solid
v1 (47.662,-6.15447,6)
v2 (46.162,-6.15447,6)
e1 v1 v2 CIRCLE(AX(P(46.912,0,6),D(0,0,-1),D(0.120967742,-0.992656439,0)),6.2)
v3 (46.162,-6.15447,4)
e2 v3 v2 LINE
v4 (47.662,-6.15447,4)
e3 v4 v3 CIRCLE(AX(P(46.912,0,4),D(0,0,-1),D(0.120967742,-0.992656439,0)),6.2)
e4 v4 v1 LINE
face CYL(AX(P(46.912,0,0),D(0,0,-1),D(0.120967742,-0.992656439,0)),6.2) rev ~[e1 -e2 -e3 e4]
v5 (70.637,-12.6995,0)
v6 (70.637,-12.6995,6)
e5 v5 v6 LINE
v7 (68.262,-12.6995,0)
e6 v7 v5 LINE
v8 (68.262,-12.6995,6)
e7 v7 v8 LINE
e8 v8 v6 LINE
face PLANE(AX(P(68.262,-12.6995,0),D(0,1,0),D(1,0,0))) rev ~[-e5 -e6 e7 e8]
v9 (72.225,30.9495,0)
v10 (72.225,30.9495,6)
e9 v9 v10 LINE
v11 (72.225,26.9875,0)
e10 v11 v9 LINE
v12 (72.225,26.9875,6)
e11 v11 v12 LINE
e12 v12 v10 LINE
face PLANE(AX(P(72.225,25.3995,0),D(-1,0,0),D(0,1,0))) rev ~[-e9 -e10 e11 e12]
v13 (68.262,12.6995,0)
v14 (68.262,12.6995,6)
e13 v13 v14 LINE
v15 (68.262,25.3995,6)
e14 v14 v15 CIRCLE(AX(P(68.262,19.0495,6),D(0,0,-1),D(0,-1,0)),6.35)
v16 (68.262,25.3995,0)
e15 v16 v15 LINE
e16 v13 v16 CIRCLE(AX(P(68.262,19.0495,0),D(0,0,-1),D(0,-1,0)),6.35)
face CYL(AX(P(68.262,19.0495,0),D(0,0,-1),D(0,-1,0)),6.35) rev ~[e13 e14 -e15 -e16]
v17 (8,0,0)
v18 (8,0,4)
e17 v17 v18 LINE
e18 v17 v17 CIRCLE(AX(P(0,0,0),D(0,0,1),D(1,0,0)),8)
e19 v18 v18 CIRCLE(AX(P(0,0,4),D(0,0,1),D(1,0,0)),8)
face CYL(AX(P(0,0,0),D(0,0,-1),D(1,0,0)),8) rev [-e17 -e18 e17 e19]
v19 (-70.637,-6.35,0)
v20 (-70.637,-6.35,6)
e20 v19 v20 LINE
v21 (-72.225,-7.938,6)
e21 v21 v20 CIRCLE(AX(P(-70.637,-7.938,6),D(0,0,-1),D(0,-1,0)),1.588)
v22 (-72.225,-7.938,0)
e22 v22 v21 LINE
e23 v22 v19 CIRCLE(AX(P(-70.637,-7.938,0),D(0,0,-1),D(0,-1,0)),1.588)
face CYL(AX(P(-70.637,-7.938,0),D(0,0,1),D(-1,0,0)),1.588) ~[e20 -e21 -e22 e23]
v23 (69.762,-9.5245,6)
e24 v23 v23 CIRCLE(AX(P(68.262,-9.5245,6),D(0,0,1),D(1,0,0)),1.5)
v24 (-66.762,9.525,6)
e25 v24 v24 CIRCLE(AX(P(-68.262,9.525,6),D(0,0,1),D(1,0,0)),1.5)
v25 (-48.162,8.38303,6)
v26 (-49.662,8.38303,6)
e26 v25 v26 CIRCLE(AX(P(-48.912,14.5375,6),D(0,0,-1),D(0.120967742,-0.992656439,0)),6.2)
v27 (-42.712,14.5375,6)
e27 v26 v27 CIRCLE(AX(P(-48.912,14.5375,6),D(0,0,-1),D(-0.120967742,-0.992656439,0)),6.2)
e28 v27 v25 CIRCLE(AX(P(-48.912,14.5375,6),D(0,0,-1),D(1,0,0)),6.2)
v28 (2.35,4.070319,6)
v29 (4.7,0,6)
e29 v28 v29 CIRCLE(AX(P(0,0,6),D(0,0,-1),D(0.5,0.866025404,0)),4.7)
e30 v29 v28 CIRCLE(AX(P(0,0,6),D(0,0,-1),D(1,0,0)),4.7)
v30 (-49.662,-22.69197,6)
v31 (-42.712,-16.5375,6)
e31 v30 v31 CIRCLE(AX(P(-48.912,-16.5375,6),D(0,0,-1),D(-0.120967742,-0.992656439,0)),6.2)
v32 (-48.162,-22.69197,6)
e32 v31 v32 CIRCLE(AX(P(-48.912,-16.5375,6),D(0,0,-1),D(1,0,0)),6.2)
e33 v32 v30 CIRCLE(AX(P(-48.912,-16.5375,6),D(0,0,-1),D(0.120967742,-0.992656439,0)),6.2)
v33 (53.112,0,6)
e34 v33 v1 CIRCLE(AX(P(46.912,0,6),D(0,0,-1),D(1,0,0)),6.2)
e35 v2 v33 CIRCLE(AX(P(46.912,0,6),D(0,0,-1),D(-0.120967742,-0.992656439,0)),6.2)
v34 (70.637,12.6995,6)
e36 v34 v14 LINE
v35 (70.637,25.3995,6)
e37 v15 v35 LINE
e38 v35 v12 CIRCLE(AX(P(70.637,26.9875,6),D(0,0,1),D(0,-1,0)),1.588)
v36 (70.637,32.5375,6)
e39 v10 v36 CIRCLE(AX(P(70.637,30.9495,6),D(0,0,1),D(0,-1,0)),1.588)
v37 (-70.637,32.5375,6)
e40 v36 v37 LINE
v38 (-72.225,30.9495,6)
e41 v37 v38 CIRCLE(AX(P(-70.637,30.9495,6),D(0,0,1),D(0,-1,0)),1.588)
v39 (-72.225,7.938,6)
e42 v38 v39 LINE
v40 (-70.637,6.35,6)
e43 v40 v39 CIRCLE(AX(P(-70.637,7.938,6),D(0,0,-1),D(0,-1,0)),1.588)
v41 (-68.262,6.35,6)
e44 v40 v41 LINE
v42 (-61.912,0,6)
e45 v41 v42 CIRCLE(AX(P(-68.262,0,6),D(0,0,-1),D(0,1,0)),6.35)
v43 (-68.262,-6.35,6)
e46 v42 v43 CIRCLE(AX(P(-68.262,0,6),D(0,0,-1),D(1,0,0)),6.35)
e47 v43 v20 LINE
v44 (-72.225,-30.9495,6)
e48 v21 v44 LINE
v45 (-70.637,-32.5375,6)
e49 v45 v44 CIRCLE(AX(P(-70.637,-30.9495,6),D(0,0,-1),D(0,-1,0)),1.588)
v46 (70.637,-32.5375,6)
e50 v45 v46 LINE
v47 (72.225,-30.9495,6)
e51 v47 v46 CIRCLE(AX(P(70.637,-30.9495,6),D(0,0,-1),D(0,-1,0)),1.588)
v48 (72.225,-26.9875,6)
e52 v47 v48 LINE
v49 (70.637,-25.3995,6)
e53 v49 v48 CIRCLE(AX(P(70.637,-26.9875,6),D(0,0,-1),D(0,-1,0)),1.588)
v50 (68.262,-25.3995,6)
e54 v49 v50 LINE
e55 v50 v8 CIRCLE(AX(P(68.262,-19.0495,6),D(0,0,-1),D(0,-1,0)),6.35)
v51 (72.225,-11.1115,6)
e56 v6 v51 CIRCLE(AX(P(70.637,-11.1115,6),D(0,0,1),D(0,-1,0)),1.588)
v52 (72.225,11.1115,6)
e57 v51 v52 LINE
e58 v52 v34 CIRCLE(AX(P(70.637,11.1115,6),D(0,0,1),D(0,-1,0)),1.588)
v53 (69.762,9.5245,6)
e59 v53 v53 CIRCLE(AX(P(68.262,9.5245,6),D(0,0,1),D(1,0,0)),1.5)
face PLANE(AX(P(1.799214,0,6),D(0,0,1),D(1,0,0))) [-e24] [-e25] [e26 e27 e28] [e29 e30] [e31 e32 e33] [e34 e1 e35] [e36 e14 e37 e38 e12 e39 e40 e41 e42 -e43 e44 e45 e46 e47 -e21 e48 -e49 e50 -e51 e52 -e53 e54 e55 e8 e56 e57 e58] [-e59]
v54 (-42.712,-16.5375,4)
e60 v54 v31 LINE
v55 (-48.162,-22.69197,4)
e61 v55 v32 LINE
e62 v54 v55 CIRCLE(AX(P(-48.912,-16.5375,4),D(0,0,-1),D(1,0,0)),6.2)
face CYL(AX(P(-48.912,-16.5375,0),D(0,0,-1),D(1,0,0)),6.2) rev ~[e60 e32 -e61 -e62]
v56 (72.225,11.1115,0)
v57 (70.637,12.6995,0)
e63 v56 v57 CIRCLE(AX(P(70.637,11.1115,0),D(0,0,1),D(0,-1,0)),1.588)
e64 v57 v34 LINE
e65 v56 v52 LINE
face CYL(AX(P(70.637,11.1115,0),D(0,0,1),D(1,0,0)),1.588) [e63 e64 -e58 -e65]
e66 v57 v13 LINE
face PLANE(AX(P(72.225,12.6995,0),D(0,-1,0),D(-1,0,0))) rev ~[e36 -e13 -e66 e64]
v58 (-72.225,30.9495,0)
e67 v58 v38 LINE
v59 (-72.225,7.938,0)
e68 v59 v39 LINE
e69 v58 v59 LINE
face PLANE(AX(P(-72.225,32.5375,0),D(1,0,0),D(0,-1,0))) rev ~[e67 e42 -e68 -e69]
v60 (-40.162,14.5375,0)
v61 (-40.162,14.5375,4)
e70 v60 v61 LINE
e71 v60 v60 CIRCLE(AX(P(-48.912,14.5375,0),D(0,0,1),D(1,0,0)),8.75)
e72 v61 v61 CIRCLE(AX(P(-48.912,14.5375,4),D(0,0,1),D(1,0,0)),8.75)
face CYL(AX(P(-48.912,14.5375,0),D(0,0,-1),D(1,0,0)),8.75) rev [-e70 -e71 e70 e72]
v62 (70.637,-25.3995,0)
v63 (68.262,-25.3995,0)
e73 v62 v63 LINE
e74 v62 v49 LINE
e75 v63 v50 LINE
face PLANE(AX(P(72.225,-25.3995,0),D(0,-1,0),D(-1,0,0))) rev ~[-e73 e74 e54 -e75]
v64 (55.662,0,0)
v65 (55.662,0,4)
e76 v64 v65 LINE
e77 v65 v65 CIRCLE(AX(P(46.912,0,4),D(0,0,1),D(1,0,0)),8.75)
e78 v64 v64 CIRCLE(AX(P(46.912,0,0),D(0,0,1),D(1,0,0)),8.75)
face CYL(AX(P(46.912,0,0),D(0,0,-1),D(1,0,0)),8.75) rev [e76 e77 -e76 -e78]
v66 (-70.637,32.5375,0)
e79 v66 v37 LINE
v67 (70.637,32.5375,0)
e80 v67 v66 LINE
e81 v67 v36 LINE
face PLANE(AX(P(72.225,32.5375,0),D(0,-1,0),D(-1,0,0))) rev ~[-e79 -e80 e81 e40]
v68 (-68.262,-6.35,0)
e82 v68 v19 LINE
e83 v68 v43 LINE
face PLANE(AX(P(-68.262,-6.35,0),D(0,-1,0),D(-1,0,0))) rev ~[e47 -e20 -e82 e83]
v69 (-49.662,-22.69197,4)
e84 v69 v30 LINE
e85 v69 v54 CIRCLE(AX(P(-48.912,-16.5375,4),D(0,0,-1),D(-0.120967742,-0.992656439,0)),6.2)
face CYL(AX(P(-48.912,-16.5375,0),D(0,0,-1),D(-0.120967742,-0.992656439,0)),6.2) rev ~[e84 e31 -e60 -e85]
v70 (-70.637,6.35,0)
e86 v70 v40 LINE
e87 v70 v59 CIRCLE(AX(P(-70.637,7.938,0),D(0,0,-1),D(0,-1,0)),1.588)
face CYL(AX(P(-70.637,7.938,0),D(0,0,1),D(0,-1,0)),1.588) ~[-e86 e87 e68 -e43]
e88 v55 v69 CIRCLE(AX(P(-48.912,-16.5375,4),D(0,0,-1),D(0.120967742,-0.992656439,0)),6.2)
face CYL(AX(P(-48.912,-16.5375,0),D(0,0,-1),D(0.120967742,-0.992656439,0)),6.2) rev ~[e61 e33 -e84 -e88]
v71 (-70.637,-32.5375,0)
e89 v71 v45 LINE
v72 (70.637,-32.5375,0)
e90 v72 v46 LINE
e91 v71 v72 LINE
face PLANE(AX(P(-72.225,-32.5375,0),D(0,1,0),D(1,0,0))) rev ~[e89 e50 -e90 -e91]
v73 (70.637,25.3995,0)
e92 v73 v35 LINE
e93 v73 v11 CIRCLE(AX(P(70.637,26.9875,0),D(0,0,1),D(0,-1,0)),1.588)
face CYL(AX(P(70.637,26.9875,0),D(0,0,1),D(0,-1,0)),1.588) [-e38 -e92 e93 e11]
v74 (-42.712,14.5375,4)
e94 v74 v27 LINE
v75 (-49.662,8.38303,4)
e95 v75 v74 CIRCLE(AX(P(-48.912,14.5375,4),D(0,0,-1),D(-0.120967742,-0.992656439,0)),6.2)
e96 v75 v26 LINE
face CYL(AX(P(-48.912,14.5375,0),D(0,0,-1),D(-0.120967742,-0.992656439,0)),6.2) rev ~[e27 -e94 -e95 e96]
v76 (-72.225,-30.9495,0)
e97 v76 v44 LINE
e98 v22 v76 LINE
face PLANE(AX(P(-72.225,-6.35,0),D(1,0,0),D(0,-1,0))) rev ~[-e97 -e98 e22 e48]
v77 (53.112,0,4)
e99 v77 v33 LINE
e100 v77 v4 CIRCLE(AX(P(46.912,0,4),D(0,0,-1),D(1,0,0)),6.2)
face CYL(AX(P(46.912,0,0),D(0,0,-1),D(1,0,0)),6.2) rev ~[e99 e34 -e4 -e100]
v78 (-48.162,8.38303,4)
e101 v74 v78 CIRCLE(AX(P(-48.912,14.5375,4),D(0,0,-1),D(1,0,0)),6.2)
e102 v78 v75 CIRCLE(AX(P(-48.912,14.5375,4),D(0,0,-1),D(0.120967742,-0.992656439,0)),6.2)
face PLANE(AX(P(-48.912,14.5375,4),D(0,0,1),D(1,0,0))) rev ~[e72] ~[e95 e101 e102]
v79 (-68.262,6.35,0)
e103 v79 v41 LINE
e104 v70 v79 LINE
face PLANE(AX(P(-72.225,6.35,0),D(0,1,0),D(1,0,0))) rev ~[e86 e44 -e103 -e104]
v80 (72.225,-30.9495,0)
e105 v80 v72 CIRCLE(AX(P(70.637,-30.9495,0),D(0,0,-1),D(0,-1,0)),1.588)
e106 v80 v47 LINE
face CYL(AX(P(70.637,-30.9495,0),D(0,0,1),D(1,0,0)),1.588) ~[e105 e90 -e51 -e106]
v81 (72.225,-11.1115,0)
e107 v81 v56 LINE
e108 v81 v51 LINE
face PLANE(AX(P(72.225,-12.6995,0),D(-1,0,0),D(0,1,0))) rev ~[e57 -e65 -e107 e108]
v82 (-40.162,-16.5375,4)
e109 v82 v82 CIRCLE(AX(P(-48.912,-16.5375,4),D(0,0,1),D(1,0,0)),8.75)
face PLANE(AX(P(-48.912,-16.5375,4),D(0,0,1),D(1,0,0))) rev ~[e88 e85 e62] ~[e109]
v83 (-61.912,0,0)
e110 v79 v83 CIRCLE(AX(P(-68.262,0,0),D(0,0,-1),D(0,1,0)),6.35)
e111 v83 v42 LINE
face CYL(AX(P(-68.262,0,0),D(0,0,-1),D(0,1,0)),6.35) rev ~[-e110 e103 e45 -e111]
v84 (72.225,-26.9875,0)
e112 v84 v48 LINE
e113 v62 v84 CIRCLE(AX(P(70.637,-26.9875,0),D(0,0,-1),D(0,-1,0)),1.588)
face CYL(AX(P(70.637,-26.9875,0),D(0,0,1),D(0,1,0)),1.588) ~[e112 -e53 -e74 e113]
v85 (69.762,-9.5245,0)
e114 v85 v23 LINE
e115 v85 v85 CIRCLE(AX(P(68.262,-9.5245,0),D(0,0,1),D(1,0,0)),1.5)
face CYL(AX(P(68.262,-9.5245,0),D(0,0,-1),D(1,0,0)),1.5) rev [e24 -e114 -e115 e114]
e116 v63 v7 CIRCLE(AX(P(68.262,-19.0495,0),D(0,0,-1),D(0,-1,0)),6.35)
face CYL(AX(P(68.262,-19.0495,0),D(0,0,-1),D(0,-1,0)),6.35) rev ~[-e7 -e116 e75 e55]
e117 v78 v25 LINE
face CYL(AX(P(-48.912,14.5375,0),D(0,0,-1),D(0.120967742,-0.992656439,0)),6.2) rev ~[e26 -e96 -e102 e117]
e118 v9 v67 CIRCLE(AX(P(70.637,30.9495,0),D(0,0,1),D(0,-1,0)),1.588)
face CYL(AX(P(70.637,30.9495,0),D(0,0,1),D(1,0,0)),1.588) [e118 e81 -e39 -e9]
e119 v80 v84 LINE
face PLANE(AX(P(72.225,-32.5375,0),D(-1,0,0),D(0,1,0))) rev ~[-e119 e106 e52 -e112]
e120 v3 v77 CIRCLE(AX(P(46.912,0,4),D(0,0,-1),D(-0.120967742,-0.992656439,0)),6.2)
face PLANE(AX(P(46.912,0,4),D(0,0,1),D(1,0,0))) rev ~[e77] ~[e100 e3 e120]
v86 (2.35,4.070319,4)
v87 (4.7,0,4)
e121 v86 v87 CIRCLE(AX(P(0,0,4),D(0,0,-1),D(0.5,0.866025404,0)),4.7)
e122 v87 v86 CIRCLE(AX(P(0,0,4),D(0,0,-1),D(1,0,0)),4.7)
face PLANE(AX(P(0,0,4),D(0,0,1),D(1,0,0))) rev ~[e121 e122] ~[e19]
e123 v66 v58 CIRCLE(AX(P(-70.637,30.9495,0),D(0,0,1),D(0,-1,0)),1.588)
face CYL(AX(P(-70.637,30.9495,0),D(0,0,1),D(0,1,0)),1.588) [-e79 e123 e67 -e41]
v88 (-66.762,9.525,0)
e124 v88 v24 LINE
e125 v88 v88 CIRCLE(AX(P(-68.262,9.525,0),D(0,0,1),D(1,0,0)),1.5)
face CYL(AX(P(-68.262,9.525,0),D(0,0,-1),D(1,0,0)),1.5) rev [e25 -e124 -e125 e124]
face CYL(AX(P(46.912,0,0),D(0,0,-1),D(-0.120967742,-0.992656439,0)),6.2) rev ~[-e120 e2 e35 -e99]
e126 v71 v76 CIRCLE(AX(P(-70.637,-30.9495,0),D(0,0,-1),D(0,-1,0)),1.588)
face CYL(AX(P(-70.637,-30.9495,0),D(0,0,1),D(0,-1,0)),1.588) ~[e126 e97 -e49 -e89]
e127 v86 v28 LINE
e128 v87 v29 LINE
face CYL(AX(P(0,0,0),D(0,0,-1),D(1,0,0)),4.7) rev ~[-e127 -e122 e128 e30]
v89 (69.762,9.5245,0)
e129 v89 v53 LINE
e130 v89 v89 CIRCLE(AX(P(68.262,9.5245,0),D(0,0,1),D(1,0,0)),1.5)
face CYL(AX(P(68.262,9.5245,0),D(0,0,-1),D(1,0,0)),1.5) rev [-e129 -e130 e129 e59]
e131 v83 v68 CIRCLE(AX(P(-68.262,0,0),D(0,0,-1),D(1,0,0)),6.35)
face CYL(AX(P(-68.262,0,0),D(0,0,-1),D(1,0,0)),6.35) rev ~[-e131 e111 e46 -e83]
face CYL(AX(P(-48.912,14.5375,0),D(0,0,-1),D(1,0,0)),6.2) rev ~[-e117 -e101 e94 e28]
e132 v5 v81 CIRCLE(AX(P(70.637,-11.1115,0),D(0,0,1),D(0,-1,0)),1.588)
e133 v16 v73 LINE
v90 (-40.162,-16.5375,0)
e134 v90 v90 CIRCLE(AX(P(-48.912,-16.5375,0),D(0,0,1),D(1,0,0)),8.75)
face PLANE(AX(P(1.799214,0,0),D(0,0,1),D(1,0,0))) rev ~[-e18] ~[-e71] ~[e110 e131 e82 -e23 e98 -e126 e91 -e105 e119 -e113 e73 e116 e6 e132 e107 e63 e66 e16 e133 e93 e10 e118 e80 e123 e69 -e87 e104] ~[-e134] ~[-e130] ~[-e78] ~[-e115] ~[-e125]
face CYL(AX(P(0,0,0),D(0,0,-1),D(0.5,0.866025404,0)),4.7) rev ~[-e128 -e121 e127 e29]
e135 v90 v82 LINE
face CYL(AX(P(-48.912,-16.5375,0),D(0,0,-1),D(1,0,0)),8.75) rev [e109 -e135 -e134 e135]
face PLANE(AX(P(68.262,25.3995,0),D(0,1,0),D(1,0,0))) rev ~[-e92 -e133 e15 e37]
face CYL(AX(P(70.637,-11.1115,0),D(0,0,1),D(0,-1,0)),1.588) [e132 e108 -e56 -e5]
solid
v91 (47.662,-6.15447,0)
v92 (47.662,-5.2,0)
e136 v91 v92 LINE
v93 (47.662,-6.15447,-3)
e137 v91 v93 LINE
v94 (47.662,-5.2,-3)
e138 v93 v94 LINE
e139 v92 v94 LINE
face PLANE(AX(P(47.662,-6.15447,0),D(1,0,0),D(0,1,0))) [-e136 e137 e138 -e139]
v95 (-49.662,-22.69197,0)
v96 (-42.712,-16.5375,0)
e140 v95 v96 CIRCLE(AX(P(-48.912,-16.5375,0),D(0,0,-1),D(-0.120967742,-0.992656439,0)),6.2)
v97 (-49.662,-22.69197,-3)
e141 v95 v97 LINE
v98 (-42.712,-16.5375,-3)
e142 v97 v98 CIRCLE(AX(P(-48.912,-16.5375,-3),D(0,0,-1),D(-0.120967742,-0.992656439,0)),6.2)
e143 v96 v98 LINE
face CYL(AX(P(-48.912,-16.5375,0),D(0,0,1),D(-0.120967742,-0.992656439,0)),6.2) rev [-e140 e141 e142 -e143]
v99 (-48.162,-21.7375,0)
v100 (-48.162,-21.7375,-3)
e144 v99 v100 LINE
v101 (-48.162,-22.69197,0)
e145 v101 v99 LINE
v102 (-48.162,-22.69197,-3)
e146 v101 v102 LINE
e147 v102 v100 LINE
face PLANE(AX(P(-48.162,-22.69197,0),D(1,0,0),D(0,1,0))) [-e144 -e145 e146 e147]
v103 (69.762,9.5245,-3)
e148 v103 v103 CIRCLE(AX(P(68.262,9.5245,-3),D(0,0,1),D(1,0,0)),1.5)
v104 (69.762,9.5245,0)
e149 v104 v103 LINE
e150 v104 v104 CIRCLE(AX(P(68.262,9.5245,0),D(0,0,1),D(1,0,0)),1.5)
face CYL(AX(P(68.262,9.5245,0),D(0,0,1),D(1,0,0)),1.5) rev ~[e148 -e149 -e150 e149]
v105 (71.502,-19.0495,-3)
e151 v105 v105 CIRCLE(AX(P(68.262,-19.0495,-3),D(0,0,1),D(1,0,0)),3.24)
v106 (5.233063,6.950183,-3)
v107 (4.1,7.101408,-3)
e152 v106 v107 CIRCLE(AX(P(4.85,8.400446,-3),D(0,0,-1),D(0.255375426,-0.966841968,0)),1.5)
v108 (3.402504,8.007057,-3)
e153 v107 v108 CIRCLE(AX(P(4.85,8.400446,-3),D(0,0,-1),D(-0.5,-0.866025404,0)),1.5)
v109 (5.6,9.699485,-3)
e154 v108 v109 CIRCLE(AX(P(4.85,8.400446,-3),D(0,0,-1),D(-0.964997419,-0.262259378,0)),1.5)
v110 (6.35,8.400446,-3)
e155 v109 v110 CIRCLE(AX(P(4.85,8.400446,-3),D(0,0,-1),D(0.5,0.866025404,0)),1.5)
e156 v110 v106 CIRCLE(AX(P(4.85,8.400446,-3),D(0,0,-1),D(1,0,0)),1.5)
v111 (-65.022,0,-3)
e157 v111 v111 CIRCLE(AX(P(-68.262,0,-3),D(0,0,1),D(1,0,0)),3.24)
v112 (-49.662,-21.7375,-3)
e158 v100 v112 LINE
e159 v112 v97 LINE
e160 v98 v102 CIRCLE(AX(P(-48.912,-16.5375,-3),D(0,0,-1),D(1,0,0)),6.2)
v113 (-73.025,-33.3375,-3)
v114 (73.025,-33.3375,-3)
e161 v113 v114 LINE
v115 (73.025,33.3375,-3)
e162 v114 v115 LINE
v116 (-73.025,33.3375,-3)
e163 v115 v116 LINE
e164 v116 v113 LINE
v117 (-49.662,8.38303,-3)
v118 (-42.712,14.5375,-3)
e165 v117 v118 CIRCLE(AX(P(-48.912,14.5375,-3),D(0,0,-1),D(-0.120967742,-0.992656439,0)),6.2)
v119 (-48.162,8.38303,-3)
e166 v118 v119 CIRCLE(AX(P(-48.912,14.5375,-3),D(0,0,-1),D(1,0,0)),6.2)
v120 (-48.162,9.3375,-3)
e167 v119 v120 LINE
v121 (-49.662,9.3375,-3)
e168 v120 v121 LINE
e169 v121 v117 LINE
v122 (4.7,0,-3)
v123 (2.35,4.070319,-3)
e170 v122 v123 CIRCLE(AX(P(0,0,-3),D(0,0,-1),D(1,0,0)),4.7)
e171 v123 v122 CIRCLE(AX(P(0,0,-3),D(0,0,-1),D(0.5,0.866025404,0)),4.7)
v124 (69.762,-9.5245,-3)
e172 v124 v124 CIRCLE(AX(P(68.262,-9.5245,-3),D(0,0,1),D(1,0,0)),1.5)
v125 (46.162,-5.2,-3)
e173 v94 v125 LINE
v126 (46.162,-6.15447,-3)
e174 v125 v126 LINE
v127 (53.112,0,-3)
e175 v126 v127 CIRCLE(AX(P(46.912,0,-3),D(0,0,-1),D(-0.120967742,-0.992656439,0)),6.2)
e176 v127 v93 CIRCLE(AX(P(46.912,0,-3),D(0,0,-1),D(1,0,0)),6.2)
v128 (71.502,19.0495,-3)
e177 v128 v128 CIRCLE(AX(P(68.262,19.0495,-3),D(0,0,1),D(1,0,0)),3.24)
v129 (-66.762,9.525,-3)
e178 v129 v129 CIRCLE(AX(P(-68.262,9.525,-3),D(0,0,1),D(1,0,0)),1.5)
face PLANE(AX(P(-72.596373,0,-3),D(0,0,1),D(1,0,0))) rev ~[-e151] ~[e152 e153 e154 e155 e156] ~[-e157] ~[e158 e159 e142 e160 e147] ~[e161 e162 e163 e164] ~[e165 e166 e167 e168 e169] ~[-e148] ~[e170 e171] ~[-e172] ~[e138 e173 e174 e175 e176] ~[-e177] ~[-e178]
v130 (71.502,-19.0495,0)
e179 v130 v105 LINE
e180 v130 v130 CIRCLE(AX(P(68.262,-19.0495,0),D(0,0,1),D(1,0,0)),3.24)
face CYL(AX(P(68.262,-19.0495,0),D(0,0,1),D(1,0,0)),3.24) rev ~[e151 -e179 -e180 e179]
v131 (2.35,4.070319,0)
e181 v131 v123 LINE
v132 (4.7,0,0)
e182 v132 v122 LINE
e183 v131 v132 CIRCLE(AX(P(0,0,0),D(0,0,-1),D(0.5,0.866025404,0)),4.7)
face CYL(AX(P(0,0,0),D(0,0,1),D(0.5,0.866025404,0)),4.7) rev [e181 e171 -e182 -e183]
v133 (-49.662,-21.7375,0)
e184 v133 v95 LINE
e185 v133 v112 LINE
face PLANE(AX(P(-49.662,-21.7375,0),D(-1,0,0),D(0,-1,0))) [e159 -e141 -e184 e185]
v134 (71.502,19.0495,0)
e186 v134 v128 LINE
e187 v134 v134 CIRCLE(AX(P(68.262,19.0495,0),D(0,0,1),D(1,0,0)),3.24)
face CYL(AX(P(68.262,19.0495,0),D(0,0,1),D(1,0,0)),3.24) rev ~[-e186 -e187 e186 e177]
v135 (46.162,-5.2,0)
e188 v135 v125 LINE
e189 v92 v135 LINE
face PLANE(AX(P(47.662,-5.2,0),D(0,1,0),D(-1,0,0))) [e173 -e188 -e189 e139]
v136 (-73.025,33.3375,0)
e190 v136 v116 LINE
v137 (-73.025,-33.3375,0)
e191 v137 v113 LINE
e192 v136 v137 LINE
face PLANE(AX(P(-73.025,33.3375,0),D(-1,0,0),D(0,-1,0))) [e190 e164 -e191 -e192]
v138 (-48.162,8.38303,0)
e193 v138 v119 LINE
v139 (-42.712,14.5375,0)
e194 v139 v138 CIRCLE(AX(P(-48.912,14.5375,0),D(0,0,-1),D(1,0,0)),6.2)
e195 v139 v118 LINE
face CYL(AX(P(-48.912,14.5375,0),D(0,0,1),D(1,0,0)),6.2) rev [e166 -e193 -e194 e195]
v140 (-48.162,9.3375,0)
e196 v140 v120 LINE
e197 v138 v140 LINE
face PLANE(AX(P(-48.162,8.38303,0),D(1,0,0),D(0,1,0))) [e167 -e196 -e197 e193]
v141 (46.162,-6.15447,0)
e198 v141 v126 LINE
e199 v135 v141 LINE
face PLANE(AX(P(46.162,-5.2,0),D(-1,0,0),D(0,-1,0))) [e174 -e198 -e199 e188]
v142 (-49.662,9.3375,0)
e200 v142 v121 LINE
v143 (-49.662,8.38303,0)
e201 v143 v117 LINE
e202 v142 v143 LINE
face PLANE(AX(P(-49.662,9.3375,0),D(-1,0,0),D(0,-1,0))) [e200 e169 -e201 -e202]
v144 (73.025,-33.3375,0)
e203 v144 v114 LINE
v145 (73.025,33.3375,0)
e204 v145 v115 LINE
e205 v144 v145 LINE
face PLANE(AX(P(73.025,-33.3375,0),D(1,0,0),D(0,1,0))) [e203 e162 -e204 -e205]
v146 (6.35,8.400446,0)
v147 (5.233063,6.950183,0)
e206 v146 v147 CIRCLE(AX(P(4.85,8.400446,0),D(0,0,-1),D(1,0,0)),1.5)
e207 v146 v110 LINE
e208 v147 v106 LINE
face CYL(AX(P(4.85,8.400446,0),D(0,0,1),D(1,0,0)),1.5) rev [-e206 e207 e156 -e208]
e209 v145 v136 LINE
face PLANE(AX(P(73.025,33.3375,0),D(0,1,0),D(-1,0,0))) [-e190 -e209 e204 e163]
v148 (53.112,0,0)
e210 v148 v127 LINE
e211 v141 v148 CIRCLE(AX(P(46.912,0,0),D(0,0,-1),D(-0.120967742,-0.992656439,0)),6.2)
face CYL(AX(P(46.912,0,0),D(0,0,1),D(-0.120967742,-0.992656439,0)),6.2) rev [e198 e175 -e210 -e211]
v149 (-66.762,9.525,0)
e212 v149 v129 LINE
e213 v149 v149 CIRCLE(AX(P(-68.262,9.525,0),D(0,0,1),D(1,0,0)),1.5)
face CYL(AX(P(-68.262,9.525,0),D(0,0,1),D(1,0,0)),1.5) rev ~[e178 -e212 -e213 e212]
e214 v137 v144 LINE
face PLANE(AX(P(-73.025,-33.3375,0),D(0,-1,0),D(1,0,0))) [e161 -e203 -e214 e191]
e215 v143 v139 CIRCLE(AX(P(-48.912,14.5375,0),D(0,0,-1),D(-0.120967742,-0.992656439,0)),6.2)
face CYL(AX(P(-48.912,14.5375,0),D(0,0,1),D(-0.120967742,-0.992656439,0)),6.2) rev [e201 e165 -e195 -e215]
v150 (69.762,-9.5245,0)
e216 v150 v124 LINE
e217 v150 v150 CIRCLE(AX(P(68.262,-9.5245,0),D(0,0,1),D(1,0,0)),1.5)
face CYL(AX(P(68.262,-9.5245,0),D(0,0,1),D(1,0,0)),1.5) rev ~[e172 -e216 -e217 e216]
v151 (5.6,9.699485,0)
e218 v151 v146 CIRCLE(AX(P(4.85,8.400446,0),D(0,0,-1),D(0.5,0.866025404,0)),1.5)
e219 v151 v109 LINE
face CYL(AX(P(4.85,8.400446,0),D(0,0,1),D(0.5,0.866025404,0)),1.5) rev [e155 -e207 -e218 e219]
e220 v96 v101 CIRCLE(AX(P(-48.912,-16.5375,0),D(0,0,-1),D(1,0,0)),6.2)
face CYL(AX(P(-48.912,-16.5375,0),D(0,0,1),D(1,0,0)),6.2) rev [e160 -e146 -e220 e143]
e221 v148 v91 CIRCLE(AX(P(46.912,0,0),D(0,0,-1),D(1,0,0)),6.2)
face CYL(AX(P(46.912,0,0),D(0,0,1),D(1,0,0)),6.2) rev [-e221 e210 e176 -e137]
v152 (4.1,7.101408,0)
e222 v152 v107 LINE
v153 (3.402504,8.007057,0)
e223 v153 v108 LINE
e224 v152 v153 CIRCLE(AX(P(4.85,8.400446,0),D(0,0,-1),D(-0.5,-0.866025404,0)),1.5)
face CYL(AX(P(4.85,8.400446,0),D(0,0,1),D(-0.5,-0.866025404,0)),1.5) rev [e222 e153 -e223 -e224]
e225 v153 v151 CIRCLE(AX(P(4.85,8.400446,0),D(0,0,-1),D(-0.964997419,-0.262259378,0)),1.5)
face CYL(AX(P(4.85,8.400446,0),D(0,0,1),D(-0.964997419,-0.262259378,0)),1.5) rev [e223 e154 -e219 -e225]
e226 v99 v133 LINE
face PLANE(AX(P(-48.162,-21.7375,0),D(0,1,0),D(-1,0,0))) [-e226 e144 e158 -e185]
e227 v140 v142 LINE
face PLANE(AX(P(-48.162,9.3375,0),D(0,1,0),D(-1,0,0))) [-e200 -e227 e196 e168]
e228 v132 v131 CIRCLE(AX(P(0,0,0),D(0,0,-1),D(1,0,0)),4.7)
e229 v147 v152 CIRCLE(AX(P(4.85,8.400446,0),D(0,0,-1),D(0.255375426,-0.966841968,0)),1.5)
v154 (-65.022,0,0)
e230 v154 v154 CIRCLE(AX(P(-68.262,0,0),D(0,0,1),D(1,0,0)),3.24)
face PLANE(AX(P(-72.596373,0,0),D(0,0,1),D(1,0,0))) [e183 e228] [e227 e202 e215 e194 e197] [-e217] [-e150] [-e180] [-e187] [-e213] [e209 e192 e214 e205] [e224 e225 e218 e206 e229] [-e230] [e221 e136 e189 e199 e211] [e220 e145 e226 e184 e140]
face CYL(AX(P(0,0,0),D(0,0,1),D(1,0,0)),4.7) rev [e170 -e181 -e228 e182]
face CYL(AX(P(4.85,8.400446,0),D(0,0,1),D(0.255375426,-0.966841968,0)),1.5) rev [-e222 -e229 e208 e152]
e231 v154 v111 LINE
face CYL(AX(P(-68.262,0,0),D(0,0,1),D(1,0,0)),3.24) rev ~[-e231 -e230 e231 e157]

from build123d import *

# Parameters (mm, degrees)
F0_R     = 3.24
F0_R_2   = 1.5
F1_DEPTH = 3
F2_DEPTH = 6
F3_R     = 8.75
F3_R_2   = 8
F4_DEPTH = 4
F5_R     = 1.588


with BuildPart() as f1:
    # F0 (on Top) → F1 (new body)
    with BuildSketch(Plane.XY):
        with BuildLine():
            ThreePointArc((-73.025, -4.1995631916), (-72.6416039585, -4.5979962122), (-72.225, -4.961565378))
            Line((-72.225, -4.961565378), (-72.225, 4.961565378))
            ThreePointArc((-72.225, 4.961565378), (-72.6416039585, 4.5979962122), (-73.025, 4.1995631916))
            Line((-73.025, 4.1995631916), (-73.025, -4.1995631916))
        make_face()
        with BuildLine():
            Line((72.225, -12.6995), (68.262, -12.6995))
            ThreePointArc((68.262, -12.6995), (61.912, -19.0495), (68.262, -25.3995))
            Line((68.262, -25.3995), (72.225, -25.3995))
            Line((72.225, -25.3995), (72.225, -32.5375))
            Line((72.225, -32.5375), (-72.225, -32.5375))
            Line((-72.225, -32.5375), (-72.225, -25.3995))
            Line((-72.225, -25.3995), (-72.225, -12.6995))
            Line((-72.225, -12.6995), (-72.225, -6.35))
            Line((-72.225, -6.35), (-72.225, -4.961565378))
            ThreePointArc((-72.225, -4.961565378), (-72.6416039585, -4.5979962122), (-73.025, -4.1995631916))
            Line((-73.025, -4.1995631916), (-73.025, -33.3375))
            Line((-73.025, -33.3375), (73.025, -33.3375))
            Line((73.025, -33.3375), (73.025, 33.3375))
            Line((73.025, 33.3375), (-73.025, 33.3375))
            Line((-73.025, 33.3375), (-73.025, 4.1995631916))
            ThreePointArc((-73.025, 4.1995631916), (-72.6416039585, 4.5979962122), (-72.225, 4.961565378))
            Line((-72.225, 4.961565378), (-72.225, 6.35))
            Line((-72.225, 6.35), (-72.225, 12.6995))
            Line((-72.225, 12.6995), (-72.225, 25.3995))
            Line((-72.225, 25.3995), (-72.225, 32.5375))
            Line((-72.225, 32.5375), (72.225, 32.5375))
            Line((72.225, 32.5375), (72.225, 25.3995))
            Line((72.225, 25.3995), (68.262, 25.3995))
            ThreePointArc((68.262, 25.3995), (61.912, 19.0495), (68.262, 12.6995))
            Line((68.262, 12.6995), (72.225, 12.6995))
            Line((72.225, 12.6995), (72.225, -12.6995))
        make_face()
        with Locations((68.262, -19.0495)):
            Circle(F0_R, mode=Mode.SUBTRACT)
        with Locations((68.262, 19.0495)):
            Circle(F0_R, mode=Mode.SUBTRACT)
        with BuildLine():
            ThreePointArc((68.262, -25.3995), (61.912, -19.0495), (68.262, -12.6995))
            Line((68.262, -12.6995), (72.225, -12.6995))
            Line((72.225, -12.6995), (72.225, 12.6995))
            Line((72.225, 12.6995), (68.262, 12.6995))
            ThreePointArc((68.262, 12.6995), (61.912, 19.0495), (68.262, 25.3995))
            Line((68.262, 25.3995), (72.225, 25.3995))
            Line((72.225, 25.3995), (72.225, 32.5375))
            Line((72.225, 32.5375), (-72.225, 32.5375))
            Line((-72.225, 32.5375), (-72.225, 25.3995))
            Line((-72.225, 25.3995), (-72.225, 12.6995))
            Line((-72.225, 12.6995), (-72.225, 6.35))
            Line((-72.225, 6.35), (-68.262, 6.35))
            ThreePointArc((-68.262, 6.35), (-63.7718719395, 4.4901280605), (-61.912, 0))
            ThreePointArc((-61.912, 0), (-63.7718719395, -4.4901280605), (-68.262, -6.35))
            Line((-68.262, -6.35), (-72.225, -6.35))
            Line((-72.225, -6.35), (-72.225, -12.6995))
            Line((-72.225, -12.6995), (-72.225, -25.3995))
            Line((-72.225, -25.3995), (-72.225, -32.5375))
            Line((-72.225, -32.5375), (72.225, -32.5375))
            Line((72.225, -32.5375), (72.225, -25.3995))
            Line((72.225, -25.3995), (68.262, -25.3995))
        make_face()
        with BuildLine():
            ThreePointArc((-49.662, -22.6919699203), (-53.0223527829, -11.8958408139), (-42.712, -16.5375))
            ThreePointArc((-42.712, -16.5375), (-44.2703408139, -20.6478527829), (-48.162, -22.6919699203))
            Line((-48.162, -22.6919699203), (-48.162, -23.7375))
            Line((-48.162, -23.7375), (-49.662, -23.7375))
            Line((-49.662, -23.7375), (-49.662, -22.6919699203))
        make_face(mode=Mode.SUBTRACT)
        with Locations((68.262, -9.5245)):
            Circle(F0_R_2, mode=Mode.SUBTRACT)
        with BuildLine():
            ThreePointArc((46.162, -6.1544699203), (42.8016472171, 4.6416591861), (53.112, 0))
            ThreePointArc((53.112, 0), (51.5536591861, -4.1103527829), (47.662, -6.1544699203))
            Line((47.662, -6.1544699203), (47.662, -7.2))
            Line((47.662, -7.2), (46.162, -7.2))
            Line((46.162, -7.2), (46.162, -6.1544699203))
        make_face(mode=Mode.SUBTRACT)
        with Locations((-68.262, 9.525)):
            Circle(F0_R_2, mode=Mode.SUBTRACT)
        with BuildLine():
            ThreePointArc((-49.662, 8.3830300797), (-53.0223527829, 19.1791591861), (-42.712, 14.5375))
            ThreePointArc((-42.712, 14.5375), (-44.2703408139, 10.4271472171), (-48.162, 8.3830300797))
            Line((-48.162, 8.3830300797), (-48.162, 7.3375))
            Line((-48.162, 7.3375), (-49.662, 7.3375))
            Line((-49.662, 7.3375), (-49.662, 8.3830300797))
        make_face(mode=Mode.SUBTRACT)
        with BuildLine():
            ThreePointArc((8.7, 0), (-7.2557488822, -4.8004279142), (3.4025038715, 8.0070573499))
            ThreePointArc((3.4025038715, 8.0070573499), (3.9347390285, 9.5888475923), (5.6, 9.6994845224))
            ThreePointArc((5.6, 9.6994845224), (6.1490381057, 9.1504464167), (6.35, 8.4004464167))
            ThreePointArc((6.35, 8.4004464167), (6.0384011756, 7.4851854453), (5.2330631388, 6.9501834641))
            ThreePointArc((5.2330631388, 6.9501834641), (7.7851669638, 3.8834488983), (8.7, 0))
        make_face(mode=Mode.SUBTRACT)
        with Locations((68.262, 9.5245)):
            Circle(F0_R_2, mode=Mode.SUBTRACT)
        with BuildLine():
            Line((-72.225, 6.35), (-72.225, 4.961565378))
            ThreePointArc((-72.225, 4.961565378), (-70.3615904184, 5.9928474096), (-68.262, 6.35))
            Line((-68.262, 6.35), (-72.225, 6.35))
        make_face()
        with BuildLine():
            Line((-72.225, 4.961565378), (-72.225, -4.961565378))
            ThreePointArc((-72.225, -4.961565378), (-70.3615904184, -5.9928474096), (-68.262, -6.35))
            ThreePointArc((-68.262, -6.35), (-63.7718719395, -4.4901280605), (-61.912, 0))
            ThreePointArc((-61.912, 0), (-63.7718719395, 4.4901280605), (-68.262, 6.35))
            ThreePointArc((-68.262, 6.35), (-70.3615904184, 5.9928474096), (-72.225, 4.961565378))
        make_face()
        with Locations((-68.262, 0)):
            Circle(F0_R, mode=Mode.SUBTRACT)
        with BuildLine():
            Line((-72.225, -4.961565378), (-72.225, -6.35))
            Line((-72.225, -6.35), (-68.262, -6.35))
            ThreePointArc((-68.262, -6.35), (-70.3615904184, -5.9928474096), (-72.225, -4.961565378))
        make_face()
        with BuildLine():
            Line((-49.662, -21.7375), (-49.662, -22.6919699203))
            ThreePointArc((-49.662, -22.6919699203), (-48.912, -22.7375), (-48.162, -22.6919699203))
            Line((-48.162, -22.6919699203), (-48.162, -21.7375))
            Line((-48.162, -21.7375), (-49.662, -21.7375))
        make_face()
        with BuildLine():
            ThreePointArc((-48.162, -22.6919699203), (-48.912, -22.7375), (-49.662, -22.6919699203))
            Line((-49.662, -22.6919699203), (-49.662, -23.7375))
            Line((-49.662, -23.7375), (-48.162, -23.7375))
            Line((-48.162, -23.7375), (-48.162, -22.6919699203))
        make_face()
        with BuildLine():
            Line((-49.662, 9.3375), (-49.662, 8.3830300797))
            ThreePointArc((-49.662, 8.3830300797), (-48.912, 8.3375), (-48.162, 8.3830300797))
            Line((-48.162, 8.3830300797), (-48.162, 9.3375))
            Line((-48.162, 9.3375), (-49.662, 9.3375))
        make_face()
        with BuildLine():
            ThreePointArc((-48.162, 8.3830300797), (-48.912, 8.3375), (-49.662, 8.3830300797))
            Line((-49.662, 8.3830300797), (-49.662, 7.3375))
            Line((-49.662, 7.3375), (-48.162, 7.3375))
            Line((-48.162, 7.3375), (-48.162, 8.3830300797))
        make_face()
        with BuildLine():
            ThreePointArc((5.2330631388, 6.9501834641), (4.6515613354, 6.913630323), (4.1, 7.101408311))
            ThreePointArc((4.1, 7.101408311), (3.6615988244, 7.4851854453), (3.4025038715, 8.0070573499))
            ThreePointArc((3.4025038715, 8.0070573499), (-7.2557488822, -4.8004279142), (8.7, 0))
            ThreePointArc((8.7, 0), (7.7851669638, 3.8834488983), (5.2330631388, 6.9501834641))
        make_face()
        with BuildLine():
            ThreePointArc((2.35, 4.0703193978), (4.0703193978, 2.35), (4.7, 0))
            ThreePointArc((4.7, 0), (-4.0703193978, -2.35), (2.35, 4.0703193978))
        make_face(mode=Mode.SUBTRACT)
        with BuildLine():
            Line((46.162, -5.2), (46.162, -6.1544699203))
            ThreePointArc((46.162, -6.1544699203), (46.912, -6.2), (47.662, -6.1544699203))
            Line((47.662, -6.1544699203), (47.662, -5.2))
            Line((47.662, -5.2), (46.162, -5.2))
        make_face()
        with BuildLine():
            ThreePointArc((47.662, -6.1544699203), (46.912, -6.2), (46.162, -6.1544699203))
            Line((46.162, -6.1544699203), (46.162, -7.2))
            Line((46.162, -7.2), (47.662, -7.2))
            Line((47.662, -7.2), (47.662, -6.1544699203))
        make_face()
    extrude(amount=-F1_DEPTH)


with BuildPart() as f2:
    # F0 (on Top) → F2 (new body)
    with BuildSketch(Plane.XY):
        with BuildLine():
            ThreePointArc((68.262, -25.3995), (61.912, -19.0495), (68.262, -12.6995))
            Line((68.262, -12.6995), (72.225, -12.6995))
            Line((72.225, -12.6995), (72.225, 12.6995))
            Line((72.225, 12.6995), (68.262, 12.6995))
            ThreePointArc((68.262, 12.6995), (61.912, 19.0495), (68.262, 25.3995))
            Line((68.262, 25.3995), (72.225, 25.3995))
            Line((72.225, 25.3995), (72.225, 32.5375))
            Line((72.225, 32.5375), (-72.225, 32.5375))
            Line((-72.225, 32.5375), (-72.225, 25.3995))
            Line((-72.225, 25.3995), (-72.225, 12.6995))
            Line((-72.225, 12.6995), (-72.225, 6.35))
            Line((-72.225, 6.35), (-68.262, 6.35))
            ThreePointArc((-68.262, 6.35), (-63.7718719395, 4.4901280605), (-61.912, 0))
            ThreePointArc((-61.912, 0), (-63.7718719395, -4.4901280605), (-68.262, -6.35))
            Line((-68.262, -6.35), (-72.225, -6.35))
            Line((-72.225, -6.35), (-72.225, -12.6995))
            Line((-72.225, -12.6995), (-72.225, -25.3995))
            Line((-72.225, -25.3995), (-72.225, -32.5375))
            Line((-72.225, -32.5375), (72.225, -32.5375))
            Line((72.225, -32.5375), (72.225, -25.3995))
            Line((72.225, -25.3995), (68.262, -25.3995))
        make_face()
        with BuildLine():
            ThreePointArc((-49.662, -22.6919699203), (-53.0223527829, -11.8958408139), (-42.712, -16.5375))
            ThreePointArc((-42.712, -16.5375), (-44.2703408139, -20.6478527829), (-48.162, -22.6919699203))
            Line((-48.162, -22.6919699203), (-48.162, -23.7375))
            Line((-48.162, -23.7375), (-49.662, -23.7375))
            Line((-49.662, -23.7375), (-49.662, -22.6919699203))
        make_face(mode=Mode.SUBTRACT)
        with Locations((68.262, -9.5245)):
            Circle(F0_R_2, mode=Mode.SUBTRACT)
        with BuildLine():
            ThreePointArc((46.162, -6.1544699203), (42.8016472171, 4.6416591861), (53.112, 0))
            ThreePointArc((53.112, 0), (51.5536591861, -4.1103527829), (47.662, -6.1544699203))
            Line((47.662, -6.1544699203), (47.662, -7.2))
            Line((47.662, -7.2), (46.162, -7.2))
            Line((46.162, -7.2), (46.162, -6.1544699203))
        make_face(mode=Mode.SUBTRACT)
        with Locations((-68.262, 9.525)):
            Circle(F0_R_2, mode=Mode.SUBTRACT)
        with BuildLine():
            ThreePointArc((-49.662, 8.3830300797), (-53.0223527829, 19.1791591861), (-42.712, 14.5375))
            ThreePointArc((-42.712, 14.5375), (-44.2703408139, 10.4271472171), (-48.162, 8.3830300797))
            Line((-48.162, 8.3830300797), (-48.162, 7.3375))
            Line((-48.162, 7.3375), (-49.662, 7.3375))
            Line((-49.662, 7.3375), (-49.662, 8.3830300797))
        make_face(mode=Mode.SUBTRACT)
        with BuildLine():
            ThreePointArc((8.7, 0), (-7.2557488822, -4.8004279142), (3.4025038715, 8.0070573499))
            ThreePointArc((3.4025038715, 8.0070573499), (3.9347390285, 9.5888475923), (5.6, 9.6994845224))
            ThreePointArc((5.6, 9.6994845224), (6.1490381057, 9.1504464167), (6.35, 8.4004464167))
            ThreePointArc((6.35, 8.4004464167), (6.0384011756, 7.4851854453), (5.2330631388, 6.9501834641))
            ThreePointArc((5.2330631388, 6.9501834641), (7.7851669638, 3.8834488983), (8.7, 0))
        make_face(mode=Mode.SUBTRACT)
        with Locations((68.262, 9.5245)):
            Circle(F0_R_2, mode=Mode.SUBTRACT)
        with BuildLine():
            ThreePointArc((3.4025038715, 8.0070573499), (3.8834488983, 7.7851669638), (4.35, 7.5344210129))
            Line((4.35, 7.5344210129), (5.6, 9.6994845224))
            ThreePointArc((5.6, 9.6994845224), (3.9347390285, 9.5888475923), (3.4025038715, 8.0070573499))
        make_face()
        with BuildLine():
            Line((5.6, 9.6994845224), (4.35, 7.5344210129))
            ThreePointArc((4.35, 7.5344210129), (4.8004279142, 7.2557488822), (5.2330631388, 6.9501834641))
            ThreePointArc((5.2330631388, 6.9501834641), (6.0384011756, 7.4851854453), (6.35, 8.4004464167))
            ThreePointArc((6.35, 8.4004464167), (6.1490381057, 9.1504464167), (5.6, 9.6994845224))
        make_face()
        with BuildLine():
            Line((4.35, 7.5344210129), (4.1, 7.101408311))
            ThreePointArc((4.1, 7.101408311), (4.6515613354, 6.913630323), (5.2330631388, 6.9501834641))
            ThreePointArc((5.2330631388, 6.9501834641), (4.8004279142, 7.2557488822), (4.35, 7.5344210129))
        make_face()
        with BuildLine():
            ThreePointArc((3.4025038715, 8.0070573499), (3.6615988244, 7.4851854453), (4.1, 7.101408311))
            Line((4.1, 7.101408311), (4.35, 7.5344210129))
            ThreePointArc((4.35, 7.5344210129), (3.8834488983, 7.7851669638), (3.4025038715, 8.0070573499))
        make_face()
        with BuildLine():
            ThreePointArc((5.2330631388, 6.9501834641), (4.6515613354, 6.913630323), (4.1, 7.101408311))
            ThreePointArc((4.1, 7.101408311), (3.6615988244, 7.4851854453), (3.4025038715, 8.0070573499))
            ThreePointArc((3.4025038715, 8.0070573499), (-7.2557488822, -4.8004279142), (8.7, 0))
            ThreePointArc((8.7, 0), (7.7851669638, 3.8834488983), (5.2330631388, 6.9501834641))
        make_face()
        with BuildLine():
            ThreePointArc((2.35, 4.0703193978), (4.0703193978, 2.35), (4.7, 0))
            ThreePointArc((4.7, 0), (-4.0703193978, -2.35), (2.35, 4.0703193978))
        make_face(mode=Mode.SUBTRACT)
        with BuildLine():
            ThreePointArc((-48.162, -22.6919699203), (-48.912, -22.7375), (-49.662, -22.6919699203))
            Line((-49.662, -22.6919699203), (-49.662, -23.7375))
            Line((-49.662, -23.7375), (-48.162, -23.7375))
            Line((-48.162, -23.7375), (-48.162, -22.6919699203))
        make_face()
        with BuildLine():
            ThreePointArc((-48.162, 8.3830300797), (-48.912, 8.3375), (-49.662, 8.3830300797))
            Line((-49.662, 8.3830300797), (-49.662, 7.3375))
            Line((-49.662, 7.3375), (-48.162, 7.3375))
            Line((-48.162, 7.3375), (-48.162, 8.3830300797))
        make_face()
        with BuildLine():
            ThreePointArc((47.662, -6.1544699203), (46.912, -6.2), (46.162, -6.1544699203))
            Line((46.162, -6.1544699203), (46.162, -7.2))
            Line((46.162, -7.2), (47.662, -7.2))
            Line((47.662, -7.2), (47.662, -6.1544699203))
        make_face()
    extrude(amount=F2_DEPTH)

    # F3 (on face) → F4 (cut)
    with BuildSketch(Plane.XY):
        with Locations((-48.912, 14.5375)):
            Circle(F3_R)
        with Locations((-48.912, -16.5375)):
            Circle(F3_R)
        Circle(F3_R_2)
        with Locations((46.912, 0)):
            Circle(F3_R)
    extrude(amount=F4_DEPTH, mode=Mode.SUBTRACT)

    # F5
    f5_edges = [f2.edges().sort_by_distance(p)[0] for p in [
        (-72.225, -32.5375, 3),
        (-72.225, -6.35, 3),
        (-72.225, 6.35, 3),
        (-72.225, 32.5375, 3),
        (72.225, -32.5375, 3),
        (72.225, -25.3995, 3),
        (72.225, -12.6995, 3),
        (72.225, 12.6995, 3),
        (72.225, 25.3995, 3),
        (72.225, 32.5375, 3),
    ]]
    fillet(f5_edges, radius=F5_R)


solid = Compound([f1.part, f2.part])
